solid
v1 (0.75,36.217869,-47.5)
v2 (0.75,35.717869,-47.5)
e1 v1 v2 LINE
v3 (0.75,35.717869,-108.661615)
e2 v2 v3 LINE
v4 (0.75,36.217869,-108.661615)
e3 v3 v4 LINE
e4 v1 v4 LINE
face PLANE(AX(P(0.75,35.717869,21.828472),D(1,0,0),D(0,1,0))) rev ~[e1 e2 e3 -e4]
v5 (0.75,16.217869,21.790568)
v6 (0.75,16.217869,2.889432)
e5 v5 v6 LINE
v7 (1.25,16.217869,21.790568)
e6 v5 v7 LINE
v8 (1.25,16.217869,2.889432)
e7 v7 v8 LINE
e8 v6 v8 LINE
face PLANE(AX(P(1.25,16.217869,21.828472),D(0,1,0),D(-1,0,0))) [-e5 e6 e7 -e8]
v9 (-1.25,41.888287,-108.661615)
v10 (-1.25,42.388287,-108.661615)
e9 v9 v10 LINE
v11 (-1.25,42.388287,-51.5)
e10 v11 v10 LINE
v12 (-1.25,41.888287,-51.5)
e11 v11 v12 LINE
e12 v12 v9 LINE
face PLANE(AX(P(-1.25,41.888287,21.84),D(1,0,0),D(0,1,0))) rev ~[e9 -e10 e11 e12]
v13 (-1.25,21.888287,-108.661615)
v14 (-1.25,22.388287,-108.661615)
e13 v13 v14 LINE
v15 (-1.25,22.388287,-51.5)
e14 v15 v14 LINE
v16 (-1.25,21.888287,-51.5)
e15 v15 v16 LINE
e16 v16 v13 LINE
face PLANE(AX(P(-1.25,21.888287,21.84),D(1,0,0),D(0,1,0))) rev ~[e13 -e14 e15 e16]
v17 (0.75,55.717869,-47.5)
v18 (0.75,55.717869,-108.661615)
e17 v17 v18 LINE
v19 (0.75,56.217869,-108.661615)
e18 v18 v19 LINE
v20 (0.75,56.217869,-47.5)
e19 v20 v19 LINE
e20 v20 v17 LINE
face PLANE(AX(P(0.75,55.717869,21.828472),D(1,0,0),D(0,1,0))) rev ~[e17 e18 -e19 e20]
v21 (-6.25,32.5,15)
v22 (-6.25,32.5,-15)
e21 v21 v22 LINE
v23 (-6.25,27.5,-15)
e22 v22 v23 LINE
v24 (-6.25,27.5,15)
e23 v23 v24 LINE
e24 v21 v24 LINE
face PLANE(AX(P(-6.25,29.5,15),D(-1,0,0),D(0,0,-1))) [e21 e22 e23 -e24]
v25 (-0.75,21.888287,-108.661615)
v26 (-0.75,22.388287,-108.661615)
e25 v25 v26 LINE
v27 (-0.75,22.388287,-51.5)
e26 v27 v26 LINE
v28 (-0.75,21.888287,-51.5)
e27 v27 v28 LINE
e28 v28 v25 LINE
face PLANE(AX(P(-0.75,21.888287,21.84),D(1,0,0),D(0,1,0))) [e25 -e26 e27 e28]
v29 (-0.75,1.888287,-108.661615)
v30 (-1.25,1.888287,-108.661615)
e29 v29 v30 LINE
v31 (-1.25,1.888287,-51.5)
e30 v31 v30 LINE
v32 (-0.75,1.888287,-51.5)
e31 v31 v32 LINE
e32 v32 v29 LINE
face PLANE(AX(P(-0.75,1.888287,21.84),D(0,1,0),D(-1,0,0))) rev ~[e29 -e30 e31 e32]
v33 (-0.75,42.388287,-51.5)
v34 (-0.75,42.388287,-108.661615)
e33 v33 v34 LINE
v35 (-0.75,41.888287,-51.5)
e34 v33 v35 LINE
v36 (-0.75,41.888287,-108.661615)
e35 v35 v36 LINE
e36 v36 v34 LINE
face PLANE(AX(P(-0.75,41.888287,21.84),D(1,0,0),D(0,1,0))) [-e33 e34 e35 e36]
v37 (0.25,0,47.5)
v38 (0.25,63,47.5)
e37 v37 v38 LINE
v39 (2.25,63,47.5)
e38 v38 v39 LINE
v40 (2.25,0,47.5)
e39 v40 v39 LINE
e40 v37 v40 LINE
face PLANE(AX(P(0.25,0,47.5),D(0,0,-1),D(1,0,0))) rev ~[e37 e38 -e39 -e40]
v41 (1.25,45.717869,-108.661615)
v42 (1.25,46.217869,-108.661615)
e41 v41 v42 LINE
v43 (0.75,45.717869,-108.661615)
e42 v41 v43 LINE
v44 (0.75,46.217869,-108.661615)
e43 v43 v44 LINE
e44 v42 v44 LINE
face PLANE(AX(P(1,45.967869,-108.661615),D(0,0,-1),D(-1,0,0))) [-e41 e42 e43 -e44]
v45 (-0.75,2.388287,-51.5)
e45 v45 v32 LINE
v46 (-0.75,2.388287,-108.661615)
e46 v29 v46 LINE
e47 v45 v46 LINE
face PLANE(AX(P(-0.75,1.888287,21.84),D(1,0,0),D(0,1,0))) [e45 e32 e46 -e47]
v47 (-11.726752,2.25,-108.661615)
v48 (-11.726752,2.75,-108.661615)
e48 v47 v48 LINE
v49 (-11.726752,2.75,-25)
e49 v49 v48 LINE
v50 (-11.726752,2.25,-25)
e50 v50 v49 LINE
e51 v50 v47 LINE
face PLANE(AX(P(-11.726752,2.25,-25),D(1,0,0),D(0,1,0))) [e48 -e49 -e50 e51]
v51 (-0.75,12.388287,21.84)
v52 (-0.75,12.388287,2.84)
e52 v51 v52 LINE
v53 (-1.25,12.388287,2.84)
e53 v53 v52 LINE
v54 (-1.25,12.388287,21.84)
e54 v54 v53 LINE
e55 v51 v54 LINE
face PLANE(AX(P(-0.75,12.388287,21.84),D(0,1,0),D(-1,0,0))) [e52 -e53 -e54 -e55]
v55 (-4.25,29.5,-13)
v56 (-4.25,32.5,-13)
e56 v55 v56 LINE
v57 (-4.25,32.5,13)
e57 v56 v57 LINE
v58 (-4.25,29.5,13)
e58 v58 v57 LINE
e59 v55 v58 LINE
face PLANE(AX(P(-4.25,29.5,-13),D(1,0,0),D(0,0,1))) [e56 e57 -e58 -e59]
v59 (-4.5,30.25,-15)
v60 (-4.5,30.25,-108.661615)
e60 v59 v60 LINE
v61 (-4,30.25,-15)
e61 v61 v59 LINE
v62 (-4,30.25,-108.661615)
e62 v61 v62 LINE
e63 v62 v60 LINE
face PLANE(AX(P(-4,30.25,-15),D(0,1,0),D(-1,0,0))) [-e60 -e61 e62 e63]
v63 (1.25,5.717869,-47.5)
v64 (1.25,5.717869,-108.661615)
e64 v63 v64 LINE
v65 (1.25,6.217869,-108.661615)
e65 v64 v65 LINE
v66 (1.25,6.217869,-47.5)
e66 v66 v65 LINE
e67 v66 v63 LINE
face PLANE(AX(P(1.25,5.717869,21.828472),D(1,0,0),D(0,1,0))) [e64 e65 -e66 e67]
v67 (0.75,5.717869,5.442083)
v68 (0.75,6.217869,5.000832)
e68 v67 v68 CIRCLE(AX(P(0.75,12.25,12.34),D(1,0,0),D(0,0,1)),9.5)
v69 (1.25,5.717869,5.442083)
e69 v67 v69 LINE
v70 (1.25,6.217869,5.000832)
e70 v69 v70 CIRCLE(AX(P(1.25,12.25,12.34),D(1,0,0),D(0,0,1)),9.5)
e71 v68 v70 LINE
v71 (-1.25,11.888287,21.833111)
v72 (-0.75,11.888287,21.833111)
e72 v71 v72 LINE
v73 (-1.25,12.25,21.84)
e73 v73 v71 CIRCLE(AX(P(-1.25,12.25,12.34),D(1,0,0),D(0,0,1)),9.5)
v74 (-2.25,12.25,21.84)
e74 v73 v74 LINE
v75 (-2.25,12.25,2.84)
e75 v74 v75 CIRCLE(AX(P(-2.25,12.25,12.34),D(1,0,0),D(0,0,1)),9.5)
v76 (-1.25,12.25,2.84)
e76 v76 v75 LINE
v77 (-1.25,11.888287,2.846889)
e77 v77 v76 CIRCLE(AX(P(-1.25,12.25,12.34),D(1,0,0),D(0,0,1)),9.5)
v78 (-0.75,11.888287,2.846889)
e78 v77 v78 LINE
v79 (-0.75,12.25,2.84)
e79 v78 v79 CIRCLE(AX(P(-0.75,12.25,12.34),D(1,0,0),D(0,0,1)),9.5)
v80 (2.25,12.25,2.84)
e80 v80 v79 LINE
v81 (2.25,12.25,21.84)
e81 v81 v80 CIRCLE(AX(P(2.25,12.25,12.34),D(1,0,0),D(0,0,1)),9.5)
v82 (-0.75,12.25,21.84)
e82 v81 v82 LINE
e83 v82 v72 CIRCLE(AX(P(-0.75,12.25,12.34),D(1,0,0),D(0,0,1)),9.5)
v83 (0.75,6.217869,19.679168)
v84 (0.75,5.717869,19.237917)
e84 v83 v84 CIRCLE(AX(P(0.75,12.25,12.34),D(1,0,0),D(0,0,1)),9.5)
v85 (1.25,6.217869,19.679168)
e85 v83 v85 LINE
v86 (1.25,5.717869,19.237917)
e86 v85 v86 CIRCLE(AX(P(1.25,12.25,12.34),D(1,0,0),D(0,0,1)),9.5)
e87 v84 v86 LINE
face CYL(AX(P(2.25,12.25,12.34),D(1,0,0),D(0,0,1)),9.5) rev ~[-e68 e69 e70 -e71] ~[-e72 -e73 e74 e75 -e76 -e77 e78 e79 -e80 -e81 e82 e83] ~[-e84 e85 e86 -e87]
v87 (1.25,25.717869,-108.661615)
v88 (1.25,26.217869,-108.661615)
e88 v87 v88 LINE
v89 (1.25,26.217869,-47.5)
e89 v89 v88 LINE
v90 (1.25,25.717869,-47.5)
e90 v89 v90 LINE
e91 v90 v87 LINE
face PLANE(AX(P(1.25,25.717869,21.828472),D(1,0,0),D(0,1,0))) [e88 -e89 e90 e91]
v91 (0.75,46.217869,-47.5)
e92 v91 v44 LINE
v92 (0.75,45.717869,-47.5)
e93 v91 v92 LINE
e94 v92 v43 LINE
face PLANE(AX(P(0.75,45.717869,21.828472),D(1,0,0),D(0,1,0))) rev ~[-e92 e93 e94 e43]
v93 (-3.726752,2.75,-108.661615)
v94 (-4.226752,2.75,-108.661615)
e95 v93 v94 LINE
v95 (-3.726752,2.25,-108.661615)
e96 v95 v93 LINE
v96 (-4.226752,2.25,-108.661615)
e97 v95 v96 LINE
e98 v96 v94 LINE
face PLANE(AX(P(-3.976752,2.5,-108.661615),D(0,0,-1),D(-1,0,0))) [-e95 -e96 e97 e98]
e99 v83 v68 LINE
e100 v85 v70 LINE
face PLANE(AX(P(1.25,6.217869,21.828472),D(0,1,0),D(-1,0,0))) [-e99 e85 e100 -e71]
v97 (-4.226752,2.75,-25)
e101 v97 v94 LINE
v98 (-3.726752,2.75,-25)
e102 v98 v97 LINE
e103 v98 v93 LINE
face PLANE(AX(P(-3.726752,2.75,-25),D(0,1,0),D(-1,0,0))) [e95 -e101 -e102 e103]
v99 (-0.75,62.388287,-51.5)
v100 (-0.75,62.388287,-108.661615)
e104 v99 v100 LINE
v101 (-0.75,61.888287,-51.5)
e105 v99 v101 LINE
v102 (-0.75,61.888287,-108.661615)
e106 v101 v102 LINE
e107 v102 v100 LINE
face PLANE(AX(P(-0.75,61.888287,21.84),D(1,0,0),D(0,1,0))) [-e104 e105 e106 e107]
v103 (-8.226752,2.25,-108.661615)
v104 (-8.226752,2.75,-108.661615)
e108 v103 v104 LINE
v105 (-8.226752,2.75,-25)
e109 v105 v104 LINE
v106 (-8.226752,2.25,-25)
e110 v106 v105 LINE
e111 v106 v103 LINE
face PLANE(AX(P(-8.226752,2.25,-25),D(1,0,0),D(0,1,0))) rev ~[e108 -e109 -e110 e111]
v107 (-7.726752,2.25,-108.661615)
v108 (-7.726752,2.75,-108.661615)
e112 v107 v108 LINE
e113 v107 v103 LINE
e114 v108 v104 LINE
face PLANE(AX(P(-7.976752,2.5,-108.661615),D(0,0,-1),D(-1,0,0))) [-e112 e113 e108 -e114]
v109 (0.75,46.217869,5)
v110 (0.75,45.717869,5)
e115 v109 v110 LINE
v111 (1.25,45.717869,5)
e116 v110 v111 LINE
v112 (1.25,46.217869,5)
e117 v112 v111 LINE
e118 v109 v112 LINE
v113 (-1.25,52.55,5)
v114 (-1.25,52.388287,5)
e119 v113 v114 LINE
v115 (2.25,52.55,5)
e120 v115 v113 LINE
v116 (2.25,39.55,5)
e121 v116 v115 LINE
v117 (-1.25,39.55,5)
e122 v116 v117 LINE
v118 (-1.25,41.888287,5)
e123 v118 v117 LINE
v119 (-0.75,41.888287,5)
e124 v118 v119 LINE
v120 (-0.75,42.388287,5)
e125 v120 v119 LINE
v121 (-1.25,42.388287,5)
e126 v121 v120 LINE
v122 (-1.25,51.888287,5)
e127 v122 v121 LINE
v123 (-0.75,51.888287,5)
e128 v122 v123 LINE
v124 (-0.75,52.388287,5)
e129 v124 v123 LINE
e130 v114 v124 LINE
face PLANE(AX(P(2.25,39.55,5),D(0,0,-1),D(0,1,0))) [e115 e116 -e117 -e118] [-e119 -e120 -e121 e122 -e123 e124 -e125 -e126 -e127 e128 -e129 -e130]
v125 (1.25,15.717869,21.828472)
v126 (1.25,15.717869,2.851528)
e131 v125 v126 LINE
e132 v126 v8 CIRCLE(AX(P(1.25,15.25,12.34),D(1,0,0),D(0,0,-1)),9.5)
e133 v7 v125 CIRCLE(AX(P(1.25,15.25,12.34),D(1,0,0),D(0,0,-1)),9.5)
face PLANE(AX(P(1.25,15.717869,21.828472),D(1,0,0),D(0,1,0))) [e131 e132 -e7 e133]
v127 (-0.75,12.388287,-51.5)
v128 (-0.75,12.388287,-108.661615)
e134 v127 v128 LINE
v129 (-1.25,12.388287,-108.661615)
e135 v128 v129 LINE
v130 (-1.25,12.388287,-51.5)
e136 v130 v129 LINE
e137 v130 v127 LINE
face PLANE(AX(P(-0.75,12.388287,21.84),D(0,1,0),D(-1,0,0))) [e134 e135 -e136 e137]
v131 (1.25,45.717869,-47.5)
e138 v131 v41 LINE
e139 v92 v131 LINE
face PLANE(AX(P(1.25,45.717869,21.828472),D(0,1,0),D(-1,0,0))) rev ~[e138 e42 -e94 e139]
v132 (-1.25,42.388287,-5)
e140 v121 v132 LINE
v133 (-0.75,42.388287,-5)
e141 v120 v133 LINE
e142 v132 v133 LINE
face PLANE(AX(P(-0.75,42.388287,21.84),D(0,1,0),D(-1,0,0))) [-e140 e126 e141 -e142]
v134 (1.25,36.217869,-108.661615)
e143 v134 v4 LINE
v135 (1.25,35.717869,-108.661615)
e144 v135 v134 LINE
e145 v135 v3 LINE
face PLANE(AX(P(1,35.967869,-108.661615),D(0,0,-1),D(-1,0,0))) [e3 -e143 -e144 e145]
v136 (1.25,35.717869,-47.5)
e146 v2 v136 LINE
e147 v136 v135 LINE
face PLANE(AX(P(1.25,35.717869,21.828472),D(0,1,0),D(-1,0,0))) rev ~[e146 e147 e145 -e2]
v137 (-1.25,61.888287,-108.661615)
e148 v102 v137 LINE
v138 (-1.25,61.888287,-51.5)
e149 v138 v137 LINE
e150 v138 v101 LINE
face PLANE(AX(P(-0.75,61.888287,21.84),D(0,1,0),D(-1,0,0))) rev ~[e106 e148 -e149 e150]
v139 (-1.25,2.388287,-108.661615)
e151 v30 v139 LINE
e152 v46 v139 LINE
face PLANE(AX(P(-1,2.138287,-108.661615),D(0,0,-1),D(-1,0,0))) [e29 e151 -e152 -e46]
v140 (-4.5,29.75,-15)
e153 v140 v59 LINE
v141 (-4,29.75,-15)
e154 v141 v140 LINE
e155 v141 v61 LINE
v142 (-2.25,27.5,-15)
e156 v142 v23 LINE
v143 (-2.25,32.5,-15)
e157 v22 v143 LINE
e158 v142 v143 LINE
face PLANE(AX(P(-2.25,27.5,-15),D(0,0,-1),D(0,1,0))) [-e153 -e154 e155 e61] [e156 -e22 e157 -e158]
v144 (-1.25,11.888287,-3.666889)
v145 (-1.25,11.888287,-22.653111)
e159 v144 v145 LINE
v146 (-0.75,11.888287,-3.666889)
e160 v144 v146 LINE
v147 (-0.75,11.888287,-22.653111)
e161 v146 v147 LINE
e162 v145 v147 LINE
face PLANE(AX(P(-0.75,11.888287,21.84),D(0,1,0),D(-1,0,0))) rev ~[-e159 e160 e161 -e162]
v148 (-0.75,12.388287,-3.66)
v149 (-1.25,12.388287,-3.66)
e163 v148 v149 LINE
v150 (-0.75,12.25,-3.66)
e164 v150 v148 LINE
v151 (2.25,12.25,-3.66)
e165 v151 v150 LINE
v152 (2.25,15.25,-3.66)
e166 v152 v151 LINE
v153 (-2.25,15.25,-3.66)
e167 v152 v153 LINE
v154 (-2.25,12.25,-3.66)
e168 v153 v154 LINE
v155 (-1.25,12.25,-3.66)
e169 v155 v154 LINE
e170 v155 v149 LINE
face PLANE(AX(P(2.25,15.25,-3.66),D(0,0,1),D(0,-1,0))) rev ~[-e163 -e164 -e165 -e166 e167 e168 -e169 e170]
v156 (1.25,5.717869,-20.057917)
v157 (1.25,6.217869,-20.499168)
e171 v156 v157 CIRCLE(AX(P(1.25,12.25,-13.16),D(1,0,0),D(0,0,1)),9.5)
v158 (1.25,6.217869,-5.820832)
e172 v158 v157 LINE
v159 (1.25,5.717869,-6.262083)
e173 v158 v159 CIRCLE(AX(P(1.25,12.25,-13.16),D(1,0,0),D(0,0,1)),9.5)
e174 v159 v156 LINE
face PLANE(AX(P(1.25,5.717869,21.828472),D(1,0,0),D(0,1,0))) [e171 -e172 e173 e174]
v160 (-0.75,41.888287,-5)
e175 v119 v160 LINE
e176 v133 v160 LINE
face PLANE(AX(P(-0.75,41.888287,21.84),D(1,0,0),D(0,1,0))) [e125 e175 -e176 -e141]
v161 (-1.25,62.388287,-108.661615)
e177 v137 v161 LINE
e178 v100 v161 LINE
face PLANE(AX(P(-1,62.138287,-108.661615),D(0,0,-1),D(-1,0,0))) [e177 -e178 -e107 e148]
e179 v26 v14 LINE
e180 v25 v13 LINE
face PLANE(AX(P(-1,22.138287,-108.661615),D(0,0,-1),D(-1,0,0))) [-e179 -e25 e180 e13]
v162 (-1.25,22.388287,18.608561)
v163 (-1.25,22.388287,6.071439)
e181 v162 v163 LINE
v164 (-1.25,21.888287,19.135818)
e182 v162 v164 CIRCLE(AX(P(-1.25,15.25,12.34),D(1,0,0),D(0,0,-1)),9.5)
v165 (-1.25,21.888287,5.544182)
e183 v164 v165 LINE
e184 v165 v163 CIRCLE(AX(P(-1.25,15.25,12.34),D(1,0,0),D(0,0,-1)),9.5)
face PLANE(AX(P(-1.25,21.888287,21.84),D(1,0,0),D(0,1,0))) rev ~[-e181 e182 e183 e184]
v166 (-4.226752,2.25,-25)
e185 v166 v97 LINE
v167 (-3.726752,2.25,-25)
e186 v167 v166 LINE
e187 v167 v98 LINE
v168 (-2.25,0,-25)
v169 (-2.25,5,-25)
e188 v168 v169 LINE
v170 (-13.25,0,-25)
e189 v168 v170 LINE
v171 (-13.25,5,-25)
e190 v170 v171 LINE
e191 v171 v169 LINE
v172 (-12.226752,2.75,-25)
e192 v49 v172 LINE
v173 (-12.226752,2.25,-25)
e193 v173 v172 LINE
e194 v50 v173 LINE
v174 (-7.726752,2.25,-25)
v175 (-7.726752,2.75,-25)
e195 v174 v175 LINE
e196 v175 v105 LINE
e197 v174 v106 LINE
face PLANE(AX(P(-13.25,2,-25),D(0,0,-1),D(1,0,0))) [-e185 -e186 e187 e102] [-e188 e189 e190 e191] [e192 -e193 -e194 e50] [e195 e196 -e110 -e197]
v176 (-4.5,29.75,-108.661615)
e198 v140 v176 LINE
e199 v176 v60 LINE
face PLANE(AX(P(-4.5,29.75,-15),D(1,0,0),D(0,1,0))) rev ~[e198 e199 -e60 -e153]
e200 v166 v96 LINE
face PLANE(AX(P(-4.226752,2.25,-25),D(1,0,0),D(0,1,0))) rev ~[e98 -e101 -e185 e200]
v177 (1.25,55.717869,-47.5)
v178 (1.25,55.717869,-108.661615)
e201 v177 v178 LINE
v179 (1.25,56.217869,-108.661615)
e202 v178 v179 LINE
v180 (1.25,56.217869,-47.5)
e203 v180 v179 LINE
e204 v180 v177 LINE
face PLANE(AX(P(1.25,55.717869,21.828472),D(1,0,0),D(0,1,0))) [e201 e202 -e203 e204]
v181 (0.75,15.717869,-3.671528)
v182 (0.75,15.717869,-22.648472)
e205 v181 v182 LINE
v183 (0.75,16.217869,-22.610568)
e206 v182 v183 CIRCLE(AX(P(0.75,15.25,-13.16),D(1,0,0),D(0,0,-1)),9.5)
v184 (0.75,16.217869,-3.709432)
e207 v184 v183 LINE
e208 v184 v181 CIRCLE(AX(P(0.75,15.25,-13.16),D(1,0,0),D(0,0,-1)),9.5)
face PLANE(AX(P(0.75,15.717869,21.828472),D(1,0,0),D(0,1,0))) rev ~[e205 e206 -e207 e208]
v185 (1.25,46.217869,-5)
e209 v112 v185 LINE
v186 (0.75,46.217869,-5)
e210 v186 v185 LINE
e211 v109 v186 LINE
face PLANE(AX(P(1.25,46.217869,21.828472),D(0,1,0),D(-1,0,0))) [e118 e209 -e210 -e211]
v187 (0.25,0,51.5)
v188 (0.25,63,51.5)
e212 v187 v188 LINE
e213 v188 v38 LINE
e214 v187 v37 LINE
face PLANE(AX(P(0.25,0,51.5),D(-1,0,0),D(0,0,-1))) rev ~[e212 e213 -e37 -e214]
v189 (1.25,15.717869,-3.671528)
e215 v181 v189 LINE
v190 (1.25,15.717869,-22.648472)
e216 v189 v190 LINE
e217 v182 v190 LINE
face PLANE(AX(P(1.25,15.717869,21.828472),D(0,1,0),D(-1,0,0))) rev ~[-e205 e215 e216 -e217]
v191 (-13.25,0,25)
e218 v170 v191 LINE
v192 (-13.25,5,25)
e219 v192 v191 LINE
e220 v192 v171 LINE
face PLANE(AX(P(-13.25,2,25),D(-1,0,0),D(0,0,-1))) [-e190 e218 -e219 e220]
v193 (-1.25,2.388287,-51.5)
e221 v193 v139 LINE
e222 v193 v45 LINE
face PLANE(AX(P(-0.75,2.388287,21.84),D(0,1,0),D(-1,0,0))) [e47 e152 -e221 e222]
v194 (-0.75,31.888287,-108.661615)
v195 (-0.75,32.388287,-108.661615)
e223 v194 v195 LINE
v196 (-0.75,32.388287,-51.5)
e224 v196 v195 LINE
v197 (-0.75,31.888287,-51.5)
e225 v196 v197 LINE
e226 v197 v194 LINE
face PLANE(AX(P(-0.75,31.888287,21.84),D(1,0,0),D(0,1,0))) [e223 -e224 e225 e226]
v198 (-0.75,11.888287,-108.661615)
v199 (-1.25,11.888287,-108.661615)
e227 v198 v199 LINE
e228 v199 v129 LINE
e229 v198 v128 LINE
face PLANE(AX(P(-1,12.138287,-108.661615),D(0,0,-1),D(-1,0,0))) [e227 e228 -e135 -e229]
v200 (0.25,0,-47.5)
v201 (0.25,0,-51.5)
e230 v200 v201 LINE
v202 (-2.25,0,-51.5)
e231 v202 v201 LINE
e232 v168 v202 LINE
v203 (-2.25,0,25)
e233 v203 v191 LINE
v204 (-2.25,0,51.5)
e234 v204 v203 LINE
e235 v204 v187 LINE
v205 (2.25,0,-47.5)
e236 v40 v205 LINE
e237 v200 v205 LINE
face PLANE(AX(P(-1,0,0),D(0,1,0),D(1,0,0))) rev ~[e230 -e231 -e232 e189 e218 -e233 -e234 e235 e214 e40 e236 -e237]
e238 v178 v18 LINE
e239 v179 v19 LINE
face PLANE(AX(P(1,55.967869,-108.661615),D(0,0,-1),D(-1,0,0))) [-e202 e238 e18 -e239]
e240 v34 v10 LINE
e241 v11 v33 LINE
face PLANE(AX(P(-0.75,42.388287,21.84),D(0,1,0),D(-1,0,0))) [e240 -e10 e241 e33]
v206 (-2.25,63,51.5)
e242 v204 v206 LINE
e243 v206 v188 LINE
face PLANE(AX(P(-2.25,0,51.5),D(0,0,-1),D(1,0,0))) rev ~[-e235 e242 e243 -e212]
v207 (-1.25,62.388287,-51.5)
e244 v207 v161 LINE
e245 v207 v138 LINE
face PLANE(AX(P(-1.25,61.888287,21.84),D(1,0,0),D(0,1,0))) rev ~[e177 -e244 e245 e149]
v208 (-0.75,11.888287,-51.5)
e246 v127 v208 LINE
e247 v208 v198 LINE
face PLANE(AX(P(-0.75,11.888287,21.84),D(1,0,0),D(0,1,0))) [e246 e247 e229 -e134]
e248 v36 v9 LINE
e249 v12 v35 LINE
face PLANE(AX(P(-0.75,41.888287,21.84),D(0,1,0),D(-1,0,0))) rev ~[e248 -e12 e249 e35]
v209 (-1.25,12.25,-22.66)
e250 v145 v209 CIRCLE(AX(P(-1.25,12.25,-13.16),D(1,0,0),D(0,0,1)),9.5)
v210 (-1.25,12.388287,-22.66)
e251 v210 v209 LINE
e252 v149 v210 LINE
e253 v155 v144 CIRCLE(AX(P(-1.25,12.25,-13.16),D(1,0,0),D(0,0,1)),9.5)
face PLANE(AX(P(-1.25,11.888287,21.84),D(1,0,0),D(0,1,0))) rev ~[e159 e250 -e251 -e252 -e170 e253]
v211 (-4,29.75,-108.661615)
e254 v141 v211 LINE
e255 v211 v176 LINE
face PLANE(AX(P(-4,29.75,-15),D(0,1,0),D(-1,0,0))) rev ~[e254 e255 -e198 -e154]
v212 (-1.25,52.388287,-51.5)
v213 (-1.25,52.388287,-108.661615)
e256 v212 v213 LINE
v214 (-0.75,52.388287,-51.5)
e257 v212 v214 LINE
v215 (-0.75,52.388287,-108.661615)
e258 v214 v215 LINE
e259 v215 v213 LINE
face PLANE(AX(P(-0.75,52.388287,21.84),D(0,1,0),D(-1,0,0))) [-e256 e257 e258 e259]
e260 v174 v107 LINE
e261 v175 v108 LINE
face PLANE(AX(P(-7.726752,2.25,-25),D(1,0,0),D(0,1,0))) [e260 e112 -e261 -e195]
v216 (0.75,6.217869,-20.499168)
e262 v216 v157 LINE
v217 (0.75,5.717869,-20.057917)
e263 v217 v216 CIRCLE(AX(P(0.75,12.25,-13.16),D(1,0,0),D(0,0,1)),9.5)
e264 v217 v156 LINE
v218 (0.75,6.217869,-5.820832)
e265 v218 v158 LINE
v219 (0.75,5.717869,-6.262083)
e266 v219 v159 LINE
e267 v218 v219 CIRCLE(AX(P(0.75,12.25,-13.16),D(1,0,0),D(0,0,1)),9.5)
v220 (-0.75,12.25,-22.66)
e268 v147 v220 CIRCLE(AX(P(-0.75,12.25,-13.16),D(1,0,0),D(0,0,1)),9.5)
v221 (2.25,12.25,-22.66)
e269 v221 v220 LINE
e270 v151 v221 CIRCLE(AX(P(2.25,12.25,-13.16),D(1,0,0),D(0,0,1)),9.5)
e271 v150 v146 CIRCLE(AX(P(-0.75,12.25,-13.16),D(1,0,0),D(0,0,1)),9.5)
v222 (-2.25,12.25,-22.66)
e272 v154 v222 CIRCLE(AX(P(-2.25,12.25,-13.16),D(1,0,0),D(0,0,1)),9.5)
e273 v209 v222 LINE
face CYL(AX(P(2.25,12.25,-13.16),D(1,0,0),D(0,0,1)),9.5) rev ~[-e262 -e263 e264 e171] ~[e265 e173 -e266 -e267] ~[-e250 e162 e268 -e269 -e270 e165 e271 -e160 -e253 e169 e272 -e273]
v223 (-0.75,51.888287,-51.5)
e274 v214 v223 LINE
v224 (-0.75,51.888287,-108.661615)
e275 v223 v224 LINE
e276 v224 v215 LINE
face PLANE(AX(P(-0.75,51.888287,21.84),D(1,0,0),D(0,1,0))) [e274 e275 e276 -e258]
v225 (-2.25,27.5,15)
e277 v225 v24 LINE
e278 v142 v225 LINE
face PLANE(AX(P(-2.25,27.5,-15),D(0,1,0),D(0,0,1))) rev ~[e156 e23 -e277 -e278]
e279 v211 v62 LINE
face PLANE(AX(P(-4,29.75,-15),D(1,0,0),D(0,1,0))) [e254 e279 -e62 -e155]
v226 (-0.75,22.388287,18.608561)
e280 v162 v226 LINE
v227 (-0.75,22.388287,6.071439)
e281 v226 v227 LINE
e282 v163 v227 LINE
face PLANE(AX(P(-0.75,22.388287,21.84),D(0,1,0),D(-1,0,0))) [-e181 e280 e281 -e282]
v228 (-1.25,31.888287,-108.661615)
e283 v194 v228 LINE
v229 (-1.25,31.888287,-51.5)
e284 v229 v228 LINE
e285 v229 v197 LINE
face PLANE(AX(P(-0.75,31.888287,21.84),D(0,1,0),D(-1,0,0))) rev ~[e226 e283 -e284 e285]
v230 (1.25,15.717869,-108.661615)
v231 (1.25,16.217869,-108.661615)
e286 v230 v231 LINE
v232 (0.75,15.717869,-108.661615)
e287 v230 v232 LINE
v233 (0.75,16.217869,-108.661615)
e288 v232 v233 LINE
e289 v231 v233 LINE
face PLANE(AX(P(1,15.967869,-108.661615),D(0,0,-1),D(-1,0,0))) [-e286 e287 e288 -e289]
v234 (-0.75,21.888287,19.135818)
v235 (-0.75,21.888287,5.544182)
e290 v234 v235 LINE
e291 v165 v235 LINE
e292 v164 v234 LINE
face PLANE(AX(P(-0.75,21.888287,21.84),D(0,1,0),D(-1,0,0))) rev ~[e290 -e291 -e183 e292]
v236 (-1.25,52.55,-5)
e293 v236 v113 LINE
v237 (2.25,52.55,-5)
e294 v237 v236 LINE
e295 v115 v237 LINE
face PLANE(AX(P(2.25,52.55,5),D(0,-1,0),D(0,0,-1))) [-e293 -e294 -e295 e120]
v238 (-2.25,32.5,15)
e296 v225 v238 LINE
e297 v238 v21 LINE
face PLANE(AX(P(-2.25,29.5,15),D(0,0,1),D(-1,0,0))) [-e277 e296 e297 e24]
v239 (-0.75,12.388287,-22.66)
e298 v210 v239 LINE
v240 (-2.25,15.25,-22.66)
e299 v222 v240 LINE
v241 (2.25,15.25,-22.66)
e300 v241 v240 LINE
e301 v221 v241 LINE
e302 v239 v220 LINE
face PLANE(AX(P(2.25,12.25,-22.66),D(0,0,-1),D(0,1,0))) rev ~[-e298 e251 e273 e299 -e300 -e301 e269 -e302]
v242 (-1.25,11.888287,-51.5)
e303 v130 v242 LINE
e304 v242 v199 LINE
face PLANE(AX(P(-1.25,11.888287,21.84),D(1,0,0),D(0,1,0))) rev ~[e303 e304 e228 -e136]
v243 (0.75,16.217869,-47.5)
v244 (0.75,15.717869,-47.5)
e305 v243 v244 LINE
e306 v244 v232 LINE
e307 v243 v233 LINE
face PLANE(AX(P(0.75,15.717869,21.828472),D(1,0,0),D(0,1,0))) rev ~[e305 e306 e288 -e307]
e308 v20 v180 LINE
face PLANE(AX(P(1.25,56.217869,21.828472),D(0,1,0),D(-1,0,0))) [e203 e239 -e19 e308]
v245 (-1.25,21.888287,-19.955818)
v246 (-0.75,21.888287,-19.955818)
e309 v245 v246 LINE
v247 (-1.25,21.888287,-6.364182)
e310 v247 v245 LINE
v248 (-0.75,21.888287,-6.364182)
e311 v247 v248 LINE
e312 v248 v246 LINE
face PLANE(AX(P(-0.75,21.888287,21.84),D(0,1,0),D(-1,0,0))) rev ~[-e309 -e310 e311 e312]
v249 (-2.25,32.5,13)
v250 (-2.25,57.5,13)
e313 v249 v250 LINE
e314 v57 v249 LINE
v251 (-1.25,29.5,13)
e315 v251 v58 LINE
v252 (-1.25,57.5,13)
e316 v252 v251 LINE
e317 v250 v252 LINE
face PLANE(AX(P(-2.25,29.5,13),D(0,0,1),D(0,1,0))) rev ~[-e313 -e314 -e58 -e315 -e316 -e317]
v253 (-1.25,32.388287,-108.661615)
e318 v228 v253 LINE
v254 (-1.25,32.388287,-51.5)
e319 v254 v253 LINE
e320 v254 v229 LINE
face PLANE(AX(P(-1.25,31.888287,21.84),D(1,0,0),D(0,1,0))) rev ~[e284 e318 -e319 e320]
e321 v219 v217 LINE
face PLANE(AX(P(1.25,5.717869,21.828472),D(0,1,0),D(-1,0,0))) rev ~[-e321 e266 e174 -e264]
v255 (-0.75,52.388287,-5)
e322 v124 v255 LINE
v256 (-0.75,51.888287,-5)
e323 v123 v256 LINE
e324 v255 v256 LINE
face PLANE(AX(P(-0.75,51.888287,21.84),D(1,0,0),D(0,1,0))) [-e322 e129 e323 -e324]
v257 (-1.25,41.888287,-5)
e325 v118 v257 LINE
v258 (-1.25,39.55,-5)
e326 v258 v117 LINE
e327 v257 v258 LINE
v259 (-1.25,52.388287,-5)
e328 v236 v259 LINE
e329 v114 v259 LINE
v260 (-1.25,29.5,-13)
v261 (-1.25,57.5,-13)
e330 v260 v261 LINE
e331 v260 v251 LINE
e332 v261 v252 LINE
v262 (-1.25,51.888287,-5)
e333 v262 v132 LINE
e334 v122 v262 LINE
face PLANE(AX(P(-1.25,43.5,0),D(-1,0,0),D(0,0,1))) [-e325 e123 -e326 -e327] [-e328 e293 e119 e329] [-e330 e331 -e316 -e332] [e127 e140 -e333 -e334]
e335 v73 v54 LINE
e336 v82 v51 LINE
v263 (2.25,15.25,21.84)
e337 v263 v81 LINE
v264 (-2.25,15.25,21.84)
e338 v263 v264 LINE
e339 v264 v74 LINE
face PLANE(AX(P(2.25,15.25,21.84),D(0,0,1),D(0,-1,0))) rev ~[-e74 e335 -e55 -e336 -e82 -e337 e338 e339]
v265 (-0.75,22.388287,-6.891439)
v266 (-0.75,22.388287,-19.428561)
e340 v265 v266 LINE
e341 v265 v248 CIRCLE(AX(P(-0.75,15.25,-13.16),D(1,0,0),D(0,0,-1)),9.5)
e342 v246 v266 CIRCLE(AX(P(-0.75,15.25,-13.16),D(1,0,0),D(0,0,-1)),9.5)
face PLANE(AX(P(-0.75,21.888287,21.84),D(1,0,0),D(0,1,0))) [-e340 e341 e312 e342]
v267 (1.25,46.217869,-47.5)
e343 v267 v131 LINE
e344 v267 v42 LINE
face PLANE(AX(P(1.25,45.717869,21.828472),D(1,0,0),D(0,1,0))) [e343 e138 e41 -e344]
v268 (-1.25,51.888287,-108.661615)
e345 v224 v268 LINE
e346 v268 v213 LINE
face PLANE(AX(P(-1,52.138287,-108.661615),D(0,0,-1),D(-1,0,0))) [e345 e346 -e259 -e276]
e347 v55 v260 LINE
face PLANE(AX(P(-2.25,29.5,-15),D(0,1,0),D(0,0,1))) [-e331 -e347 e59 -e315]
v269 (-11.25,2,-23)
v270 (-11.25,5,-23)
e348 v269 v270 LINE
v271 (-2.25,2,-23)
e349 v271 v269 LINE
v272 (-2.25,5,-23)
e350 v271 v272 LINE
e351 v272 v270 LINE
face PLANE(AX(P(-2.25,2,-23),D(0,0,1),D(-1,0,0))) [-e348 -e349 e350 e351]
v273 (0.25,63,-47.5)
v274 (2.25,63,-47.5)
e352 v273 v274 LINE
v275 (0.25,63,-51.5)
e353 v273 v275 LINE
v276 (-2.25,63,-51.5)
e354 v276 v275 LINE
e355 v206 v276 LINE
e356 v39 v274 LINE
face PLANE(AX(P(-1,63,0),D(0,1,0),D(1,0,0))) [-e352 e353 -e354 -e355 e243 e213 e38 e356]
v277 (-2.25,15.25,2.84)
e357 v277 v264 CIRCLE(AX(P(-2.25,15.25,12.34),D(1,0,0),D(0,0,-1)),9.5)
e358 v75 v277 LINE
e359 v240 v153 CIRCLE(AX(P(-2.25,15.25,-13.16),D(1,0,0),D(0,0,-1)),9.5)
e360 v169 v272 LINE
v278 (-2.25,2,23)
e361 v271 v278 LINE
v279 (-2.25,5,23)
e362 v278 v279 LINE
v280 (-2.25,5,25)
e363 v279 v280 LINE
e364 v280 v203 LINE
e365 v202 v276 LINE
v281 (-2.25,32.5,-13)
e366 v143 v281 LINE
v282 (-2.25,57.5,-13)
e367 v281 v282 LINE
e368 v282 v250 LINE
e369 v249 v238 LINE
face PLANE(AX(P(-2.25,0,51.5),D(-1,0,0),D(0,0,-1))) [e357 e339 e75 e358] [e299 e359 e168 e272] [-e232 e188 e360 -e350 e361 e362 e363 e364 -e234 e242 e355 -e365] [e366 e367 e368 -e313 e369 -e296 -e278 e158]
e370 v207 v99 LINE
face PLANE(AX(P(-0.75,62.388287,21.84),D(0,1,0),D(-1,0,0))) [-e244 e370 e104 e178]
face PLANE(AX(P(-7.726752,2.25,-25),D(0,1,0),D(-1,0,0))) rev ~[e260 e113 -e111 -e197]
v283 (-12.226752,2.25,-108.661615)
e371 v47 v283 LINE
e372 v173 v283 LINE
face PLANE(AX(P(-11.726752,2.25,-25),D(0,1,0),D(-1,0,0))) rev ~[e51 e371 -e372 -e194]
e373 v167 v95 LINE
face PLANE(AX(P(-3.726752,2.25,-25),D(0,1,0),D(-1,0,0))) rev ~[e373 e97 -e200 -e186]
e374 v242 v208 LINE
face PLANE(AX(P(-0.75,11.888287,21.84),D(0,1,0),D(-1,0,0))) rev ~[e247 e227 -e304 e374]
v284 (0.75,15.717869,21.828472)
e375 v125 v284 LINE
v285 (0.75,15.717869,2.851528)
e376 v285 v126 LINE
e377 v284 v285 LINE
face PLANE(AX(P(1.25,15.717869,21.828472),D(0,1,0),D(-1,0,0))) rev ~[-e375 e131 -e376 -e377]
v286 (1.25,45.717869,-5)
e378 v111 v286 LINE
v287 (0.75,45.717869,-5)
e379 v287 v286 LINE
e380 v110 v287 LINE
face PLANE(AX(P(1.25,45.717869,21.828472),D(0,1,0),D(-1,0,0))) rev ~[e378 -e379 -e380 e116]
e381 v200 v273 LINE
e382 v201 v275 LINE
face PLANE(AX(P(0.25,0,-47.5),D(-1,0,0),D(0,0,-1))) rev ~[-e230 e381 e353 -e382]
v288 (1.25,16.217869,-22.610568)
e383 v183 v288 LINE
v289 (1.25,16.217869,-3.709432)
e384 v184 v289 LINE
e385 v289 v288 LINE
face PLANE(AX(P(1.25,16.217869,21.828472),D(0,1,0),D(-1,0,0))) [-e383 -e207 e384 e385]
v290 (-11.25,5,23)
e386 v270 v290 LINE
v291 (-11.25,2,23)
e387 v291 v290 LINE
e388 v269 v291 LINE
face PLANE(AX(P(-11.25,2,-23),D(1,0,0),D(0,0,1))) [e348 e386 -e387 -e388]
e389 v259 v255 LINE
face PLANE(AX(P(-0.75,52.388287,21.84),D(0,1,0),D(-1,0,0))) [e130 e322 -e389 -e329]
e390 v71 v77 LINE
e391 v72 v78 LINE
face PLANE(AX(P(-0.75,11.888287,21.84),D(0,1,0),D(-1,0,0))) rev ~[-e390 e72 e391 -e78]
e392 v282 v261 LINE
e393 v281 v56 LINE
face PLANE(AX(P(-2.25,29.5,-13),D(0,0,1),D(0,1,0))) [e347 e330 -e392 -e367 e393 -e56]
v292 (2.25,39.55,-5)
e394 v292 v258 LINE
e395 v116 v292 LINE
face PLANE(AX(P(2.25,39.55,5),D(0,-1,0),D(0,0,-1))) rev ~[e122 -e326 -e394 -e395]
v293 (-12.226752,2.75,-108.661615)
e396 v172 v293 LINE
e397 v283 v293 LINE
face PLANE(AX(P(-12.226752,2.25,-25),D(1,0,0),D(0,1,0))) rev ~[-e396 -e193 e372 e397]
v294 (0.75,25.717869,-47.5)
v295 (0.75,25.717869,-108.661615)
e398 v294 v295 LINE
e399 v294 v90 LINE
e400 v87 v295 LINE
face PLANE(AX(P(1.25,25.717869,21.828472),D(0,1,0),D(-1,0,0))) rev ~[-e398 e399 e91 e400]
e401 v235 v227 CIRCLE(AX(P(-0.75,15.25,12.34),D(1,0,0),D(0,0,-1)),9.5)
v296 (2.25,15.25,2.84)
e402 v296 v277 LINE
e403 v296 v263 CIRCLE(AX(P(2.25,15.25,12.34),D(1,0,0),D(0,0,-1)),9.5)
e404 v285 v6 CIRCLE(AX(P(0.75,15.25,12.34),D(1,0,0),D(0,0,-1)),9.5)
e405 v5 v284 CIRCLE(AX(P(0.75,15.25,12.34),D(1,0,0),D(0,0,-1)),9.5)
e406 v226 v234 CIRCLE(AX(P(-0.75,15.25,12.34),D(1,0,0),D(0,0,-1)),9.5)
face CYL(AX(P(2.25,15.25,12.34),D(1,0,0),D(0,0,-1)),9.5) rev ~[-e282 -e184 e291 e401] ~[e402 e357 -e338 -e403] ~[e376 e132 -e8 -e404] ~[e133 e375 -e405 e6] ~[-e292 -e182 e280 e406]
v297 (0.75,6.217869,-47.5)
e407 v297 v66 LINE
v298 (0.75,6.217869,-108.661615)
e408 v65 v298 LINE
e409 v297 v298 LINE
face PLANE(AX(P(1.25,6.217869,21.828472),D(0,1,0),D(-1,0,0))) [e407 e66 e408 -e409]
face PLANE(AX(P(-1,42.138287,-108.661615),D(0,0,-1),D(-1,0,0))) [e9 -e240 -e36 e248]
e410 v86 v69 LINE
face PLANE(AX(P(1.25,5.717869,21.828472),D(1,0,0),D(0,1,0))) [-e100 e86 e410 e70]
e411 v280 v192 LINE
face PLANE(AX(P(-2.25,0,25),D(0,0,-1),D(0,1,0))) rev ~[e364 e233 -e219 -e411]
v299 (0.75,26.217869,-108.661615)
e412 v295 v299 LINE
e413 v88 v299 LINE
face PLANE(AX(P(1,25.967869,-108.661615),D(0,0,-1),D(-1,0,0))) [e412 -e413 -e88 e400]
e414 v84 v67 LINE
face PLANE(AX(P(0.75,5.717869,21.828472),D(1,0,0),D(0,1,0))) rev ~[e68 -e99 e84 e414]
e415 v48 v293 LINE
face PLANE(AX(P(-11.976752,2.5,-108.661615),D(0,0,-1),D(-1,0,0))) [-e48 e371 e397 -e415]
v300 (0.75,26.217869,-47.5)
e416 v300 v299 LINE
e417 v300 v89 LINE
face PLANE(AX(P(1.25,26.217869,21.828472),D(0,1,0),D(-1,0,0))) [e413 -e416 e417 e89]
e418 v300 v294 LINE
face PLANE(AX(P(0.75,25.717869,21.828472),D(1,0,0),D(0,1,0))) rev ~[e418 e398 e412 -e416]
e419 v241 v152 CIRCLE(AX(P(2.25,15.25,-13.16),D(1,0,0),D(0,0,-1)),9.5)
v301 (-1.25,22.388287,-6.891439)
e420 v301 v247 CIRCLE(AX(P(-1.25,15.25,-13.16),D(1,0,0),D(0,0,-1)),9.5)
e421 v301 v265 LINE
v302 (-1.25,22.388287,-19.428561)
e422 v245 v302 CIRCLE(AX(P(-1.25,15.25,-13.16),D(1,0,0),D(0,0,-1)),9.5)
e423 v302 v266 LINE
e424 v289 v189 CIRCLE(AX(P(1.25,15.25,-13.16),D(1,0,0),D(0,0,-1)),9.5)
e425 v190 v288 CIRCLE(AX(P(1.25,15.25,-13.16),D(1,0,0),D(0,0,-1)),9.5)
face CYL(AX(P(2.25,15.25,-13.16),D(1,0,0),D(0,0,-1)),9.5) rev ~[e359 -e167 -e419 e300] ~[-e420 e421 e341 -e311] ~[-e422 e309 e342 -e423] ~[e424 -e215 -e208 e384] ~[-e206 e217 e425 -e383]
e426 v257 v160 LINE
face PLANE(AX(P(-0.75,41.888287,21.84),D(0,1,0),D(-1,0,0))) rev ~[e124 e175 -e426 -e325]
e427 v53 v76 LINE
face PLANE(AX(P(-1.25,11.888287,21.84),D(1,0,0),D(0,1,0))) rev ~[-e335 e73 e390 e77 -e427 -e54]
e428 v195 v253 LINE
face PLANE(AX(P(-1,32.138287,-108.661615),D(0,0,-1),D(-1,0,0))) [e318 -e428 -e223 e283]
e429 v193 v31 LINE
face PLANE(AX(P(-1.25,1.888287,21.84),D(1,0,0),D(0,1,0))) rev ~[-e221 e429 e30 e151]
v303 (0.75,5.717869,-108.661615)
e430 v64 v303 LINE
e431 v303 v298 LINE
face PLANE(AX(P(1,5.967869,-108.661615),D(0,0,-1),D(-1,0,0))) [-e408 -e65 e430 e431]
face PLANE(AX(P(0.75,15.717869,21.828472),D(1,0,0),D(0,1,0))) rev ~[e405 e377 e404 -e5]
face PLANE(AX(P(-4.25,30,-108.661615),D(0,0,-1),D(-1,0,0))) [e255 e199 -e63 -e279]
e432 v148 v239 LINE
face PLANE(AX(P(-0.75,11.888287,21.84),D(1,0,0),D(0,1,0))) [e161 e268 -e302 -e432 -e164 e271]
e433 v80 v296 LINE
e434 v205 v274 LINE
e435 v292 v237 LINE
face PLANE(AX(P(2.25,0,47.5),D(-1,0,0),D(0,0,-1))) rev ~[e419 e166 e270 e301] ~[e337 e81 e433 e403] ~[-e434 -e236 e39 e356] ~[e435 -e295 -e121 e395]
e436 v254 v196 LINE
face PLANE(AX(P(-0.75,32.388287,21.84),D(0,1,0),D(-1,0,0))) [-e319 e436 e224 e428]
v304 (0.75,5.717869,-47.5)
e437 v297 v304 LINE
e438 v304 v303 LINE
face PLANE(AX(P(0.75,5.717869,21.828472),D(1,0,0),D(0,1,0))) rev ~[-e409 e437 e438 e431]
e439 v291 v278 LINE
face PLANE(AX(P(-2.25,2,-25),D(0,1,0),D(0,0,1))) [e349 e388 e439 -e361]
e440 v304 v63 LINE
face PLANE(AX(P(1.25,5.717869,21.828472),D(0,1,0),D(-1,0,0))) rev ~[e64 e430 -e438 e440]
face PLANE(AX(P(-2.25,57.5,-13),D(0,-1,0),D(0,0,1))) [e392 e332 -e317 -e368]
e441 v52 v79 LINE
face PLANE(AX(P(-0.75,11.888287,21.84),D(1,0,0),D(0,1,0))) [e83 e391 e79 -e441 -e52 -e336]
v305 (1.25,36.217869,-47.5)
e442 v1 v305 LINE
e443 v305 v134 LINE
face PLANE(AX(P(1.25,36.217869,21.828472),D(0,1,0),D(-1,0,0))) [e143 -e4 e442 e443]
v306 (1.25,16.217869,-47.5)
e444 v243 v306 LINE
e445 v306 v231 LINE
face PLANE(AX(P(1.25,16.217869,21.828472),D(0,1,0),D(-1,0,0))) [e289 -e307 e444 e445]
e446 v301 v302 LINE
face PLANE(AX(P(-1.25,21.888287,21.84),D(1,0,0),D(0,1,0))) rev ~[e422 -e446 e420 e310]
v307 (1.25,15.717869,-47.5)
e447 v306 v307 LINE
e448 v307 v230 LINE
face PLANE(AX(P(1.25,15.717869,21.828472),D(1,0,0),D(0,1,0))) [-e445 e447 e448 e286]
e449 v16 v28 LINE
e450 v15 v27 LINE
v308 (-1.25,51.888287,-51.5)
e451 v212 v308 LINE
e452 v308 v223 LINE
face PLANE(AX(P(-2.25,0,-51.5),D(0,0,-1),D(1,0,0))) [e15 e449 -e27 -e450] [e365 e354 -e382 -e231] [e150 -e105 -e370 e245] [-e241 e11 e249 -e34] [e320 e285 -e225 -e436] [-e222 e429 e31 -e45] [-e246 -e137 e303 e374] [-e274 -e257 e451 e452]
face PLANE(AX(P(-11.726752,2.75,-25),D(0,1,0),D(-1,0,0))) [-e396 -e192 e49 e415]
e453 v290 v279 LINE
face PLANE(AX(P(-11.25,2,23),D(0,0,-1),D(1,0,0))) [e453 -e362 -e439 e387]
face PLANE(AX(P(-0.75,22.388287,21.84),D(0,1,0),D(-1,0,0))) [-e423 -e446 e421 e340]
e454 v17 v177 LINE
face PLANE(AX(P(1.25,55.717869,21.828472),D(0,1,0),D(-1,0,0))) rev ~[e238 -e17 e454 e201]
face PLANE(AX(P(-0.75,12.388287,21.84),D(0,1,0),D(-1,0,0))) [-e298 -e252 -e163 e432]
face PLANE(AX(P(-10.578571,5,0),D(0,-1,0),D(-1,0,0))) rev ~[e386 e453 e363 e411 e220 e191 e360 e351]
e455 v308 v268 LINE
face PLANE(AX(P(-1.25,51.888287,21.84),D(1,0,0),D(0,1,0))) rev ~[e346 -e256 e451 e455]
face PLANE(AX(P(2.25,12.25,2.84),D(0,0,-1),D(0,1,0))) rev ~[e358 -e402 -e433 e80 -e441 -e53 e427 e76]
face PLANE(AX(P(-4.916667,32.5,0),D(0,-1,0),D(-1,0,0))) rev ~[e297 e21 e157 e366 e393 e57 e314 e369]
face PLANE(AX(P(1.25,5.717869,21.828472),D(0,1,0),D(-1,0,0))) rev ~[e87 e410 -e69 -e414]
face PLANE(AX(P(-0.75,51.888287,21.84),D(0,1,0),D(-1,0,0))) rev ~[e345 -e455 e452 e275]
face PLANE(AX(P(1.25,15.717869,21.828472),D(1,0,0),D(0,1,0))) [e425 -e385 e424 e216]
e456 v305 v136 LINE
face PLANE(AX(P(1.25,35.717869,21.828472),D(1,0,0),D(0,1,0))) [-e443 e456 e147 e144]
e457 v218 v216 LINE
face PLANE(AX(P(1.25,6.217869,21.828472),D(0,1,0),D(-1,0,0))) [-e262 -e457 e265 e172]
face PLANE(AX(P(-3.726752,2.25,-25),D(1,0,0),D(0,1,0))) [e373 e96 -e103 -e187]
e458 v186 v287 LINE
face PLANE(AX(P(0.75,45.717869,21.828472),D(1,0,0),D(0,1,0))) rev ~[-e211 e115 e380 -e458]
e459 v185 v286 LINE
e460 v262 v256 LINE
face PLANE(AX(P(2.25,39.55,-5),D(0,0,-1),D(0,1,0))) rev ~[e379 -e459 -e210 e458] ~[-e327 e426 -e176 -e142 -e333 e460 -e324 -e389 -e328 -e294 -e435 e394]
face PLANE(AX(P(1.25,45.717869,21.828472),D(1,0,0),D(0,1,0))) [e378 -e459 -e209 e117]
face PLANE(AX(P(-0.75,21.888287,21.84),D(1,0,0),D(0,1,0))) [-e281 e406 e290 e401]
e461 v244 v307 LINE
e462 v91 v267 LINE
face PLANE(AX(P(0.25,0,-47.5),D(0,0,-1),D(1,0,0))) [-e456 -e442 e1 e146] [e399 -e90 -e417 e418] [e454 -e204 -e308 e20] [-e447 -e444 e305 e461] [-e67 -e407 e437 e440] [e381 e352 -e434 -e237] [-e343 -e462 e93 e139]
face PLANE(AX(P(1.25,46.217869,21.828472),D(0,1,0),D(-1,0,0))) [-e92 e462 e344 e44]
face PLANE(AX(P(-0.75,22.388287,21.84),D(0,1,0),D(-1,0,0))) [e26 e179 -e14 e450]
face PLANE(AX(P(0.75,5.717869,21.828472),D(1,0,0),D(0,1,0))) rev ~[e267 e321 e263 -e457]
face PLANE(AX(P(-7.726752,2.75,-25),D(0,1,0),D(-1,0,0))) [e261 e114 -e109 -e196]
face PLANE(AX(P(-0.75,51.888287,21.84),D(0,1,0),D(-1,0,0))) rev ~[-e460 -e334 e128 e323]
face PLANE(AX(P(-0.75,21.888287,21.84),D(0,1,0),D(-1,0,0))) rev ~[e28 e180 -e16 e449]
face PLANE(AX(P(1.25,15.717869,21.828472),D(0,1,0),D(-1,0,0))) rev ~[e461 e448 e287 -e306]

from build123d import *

# Parameters (mm, degrees)
SKETCH_1_W          = 2.5
SKETCH_1_H          = 103
SKETCH_1_W_2        = 2
SKETCH_1_H_2        = 95
EXTRUDE_1_DEPTH     = 63
SKETCH_5_W          = 50
SKETCH_5_H          = 2
EXTRUDE_2_DEPTH     = 11
EXTRUDE_3_DEPTH     = 3
CUT_EXTRUDE_1_DEPTH = 4.5
SKETCH_11_W         = 8.5
SKETCH_11_H         = 11.5
CUT_EXTRUDE_2_DEPTH = 4.5
SKETCH_12_W         = 26
SKETCH_12_H         = 28
SKETCH_12_W_2       = 25
SKETCH_12_H_2       = 27
SKETCH_12_W_3       = 8.5
SKETCH_12_H_3       = 11.5
CUT_EXTRUDE_3_DEPTH = 1
SKETCH_13_W         = 30
SKETCH_13_H         = 2
EXTRUDE_4_DEPTH     = 4
EXTRUDE_5_DEPTH     = 3
SKETCH_15_W         = 10
SKETCH_15_H         = 13
CUT_EXTRUDE_5_DEPTH = 10
EXTRUDE_START       = -73.34
SKETCH_16_W         = 0.5
SKETCH_16_H         = 0.5
EXTRUDE_6_DEPTH     = 130.501615
EXTRUDE_START_2     = -69.328472
SKETCH_17_W         = 0.5
SKETCH_17_H         = 0.5
EXTRUDE_7_DEPTH     = 130.490087
SKETCH_18_W         = 0.5
SKETCH_18_H         = 0.5
EXTRUDE_8_DEPTH     = 83.66161453
SKETCH_19_W         = 0.5
SKETCH_19_H         = 0.5
EXTRUDE_9_DEPTH     = 93.66161453


with BuildPart() as part:
    # 스케치1 → 보스-돌출1 (new body)
    with BuildSketch(Plane(origin=(0, 0, 0), x_dir=(1, 0, 0), z_dir=(0, 1, 0))):
        with Locations((-1, 0)):
            Rectangle(SKETCH_1_W, SKETCH_1_H)
        with Locations((1.25, 0)):
            Rectangle(SKETCH_1_W_2, SKETCH_1_H_2)
    extrude(amount=EXTRUDE_1_DEPTH)

    # 스케치5 → 보스-돌출2 (add)
    with BuildSketch(Plane.ZY.offset(2.25)):
        with Locations((0, 1)):
            Rectangle(SKETCH_5_W, SKETCH_5_H)
    extrude(amount=EXTRUDE_2_DEPTH)

    # 스케치7 → 보스-돌출3 (add)
    with BuildSketch(Plane(origin=(0, 2, 0), x_dir=(1, 0, 0), z_dir=(0, 1, 0))):
        Polygon((-2.25, 23), (-11.25, 23), (-11.25, -23), (-2.25, -23), (-2.25, -25), (-13.25, -25), (-13.25, 25), (-2.25, 25), align=None)
    extrude(amount=EXTRUDE_3_DEPTH)

    # 스케치10 → 컷-돌출1 (cut)
    with BuildSketch(Plane(origin=(2.25, 0, 0), x_dir=(0, 0, -1), z_dir=(1, 0, 0))):
        with BuildLine():
            Line((-21.84, 15.25), (-21.84, 12.25))
            ThreePointArc((-21.84, 12.25), (-12.34, 2.75), (-2.84, 12.25))
            Line((-2.84, 12.25), (-2.84, 15.25))
            ThreePointArc((-2.84, 15.25), (-12.34, 24.75), (-21.84, 15.25))
        make_face()
        with BuildLine():
            Line((3.66, 15.25), (3.66, 12.25))
            ThreePointArc((3.66, 12.25), (13.16, 2.75), (22.66, 12.25))
            Line((22.66, 12.25), (22.66, 15.25))
            ThreePointArc((22.66, 15.25), (13.16, 24.75), (3.66, 15.25))
        make_face()
    extrude(amount=-CUT_EXTRUDE_1_DEPTH, mode=Mode.SUBTRACT)

    # 스케치11 → 컷-돌출2 (cut)
    with BuildSketch(Plane.ZY.offset(2.25)):
        with Locations((0, 46.05)):
            Rectangle(SKETCH_11_W, SKETCH_11_H)
    extrude(amount=-CUT_EXTRUDE_2_DEPTH, mode=Mode.SUBTRACT)

    # 스케치12 → 컷-돌출3 (cut)
    # profile 1 of 2: a face of its own
    with BuildSketch(Plane.ZY.offset(2.25)):
        with Locations((0, 43.5)):
            Rectangle(SKETCH_12_W, SKETCH_12_H)
        with Locations((0, 43.5)):
            Rectangle(SKETCH_12_W_2, SKETCH_12_H_2, mode=Mode.SUBTRACT)
    # profile 2 of 2: a face of its own
    with BuildSketch(Plane.ZY.offset(2.25)):
        with Locations((0, 43.5)):
            Rectangle(SKETCH_12_W_2, SKETCH_12_H_2)
        with Locations((0, 46.05)):
            Rectangle(SKETCH_12_W_3, SKETCH_12_H_3, mode=Mode.SUBTRACT)
    extrude(amount=-CUT_EXTRUDE_3_DEPTH, mode=Mode.SUBTRACT)

    # 스케치13 → 보스-돌출4 (add)
    with BuildSketch(Plane.ZY.offset(2.25)):
        with Locations((0, 28.5)):
            Rectangle(SKETCH_13_W, SKETCH_13_H)
    extrude(amount=EXTRUDE_4_DEPTH)

    # 스케치14 → 보스-돌출5 (add)
    with BuildSketch(Plane(origin=(0, 29.5, 0), x_dir=(1, 0, 0), z_dir=(0, 1, 0))):
        Polygon((-2.25, -13), (-2.25, -15), (-6.25, -15), (-6.25, 15), (-2.25, 15), (-2.25, 13), (-4.25, 13), (-4.25, -13), align=None)
    extrude(amount=EXTRUDE_5_DEPTH)

    # 스케치15 → 컷-돌출5 (cut)
    with BuildSketch(Plane(origin=(2.25, 0, 0), x_dir=(0, 0, -1), z_dir=(1, 0, 0))):
        with Locations((0, 46.05)):
            Rectangle(SKETCH_15_W, SKETCH_15_H)
    extrude(amount=-CUT_EXTRUDE_5_DEPTH, mode=Mode.SUBTRACT)

    # 스케치16 → 보스-돌출6 (add)
    with BuildSketch(Plane(origin=(0, 0, -51.5), x_dir=(-1, 0, 0), z_dir=(0, 0, -1)).offset(EXTRUDE_START)):
        with Locations((1, 2.138286898)):
            Rectangle(SKETCH_16_W, SKETCH_16_H)
        with Locations((1, 12.138286898)):
            Rectangle(SKETCH_16_W, SKETCH_16_H)
        with Locations((1, 22.138286898)):
            Rectangle(SKETCH_16_W, SKETCH_16_H)
        with Locations((1, 32.138286898)):
            Rectangle(SKETCH_16_W, SKETCH_16_H)
        with Locations((1, 42.138286898)):
            Rectangle(SKETCH_16_W, SKETCH_16_H)
        with Locations((1, 52.138286898)):
            Rectangle(SKETCH_16_W, SKETCH_16_H)
        with Locations((1, 62.138286898)):
            Rectangle(SKETCH_16_W, SKETCH_16_H)
    extrude(amount=EXTRUDE_6_DEPTH)

    # 스케치17 → 보스-돌출7 (add)
    with BuildSketch(Plane(origin=(0, 0, -47.5), x_dir=(-1, 0, 0), z_dir=(0, 0, -1)).offset(EXTRUDE_START_2)):
        with Locations((-1, 5.967868798)):
            Rectangle(SKETCH_17_W, SKETCH_17_H)
        with Locations((-1, 15.967868798)):
            Rectangle(SKETCH_17_W, SKETCH_17_H)
        with Locations((-1, 25.967868798)):
            Rectangle(SKETCH_17_W, SKETCH_17_H)
        with Locations((-1, 35.967868798)):
            Rectangle(SKETCH_17_W, SKETCH_17_H)
        with Locations((-1, 45.967868798)):
            Rectangle(SKETCH_17_W, SKETCH_17_H)
        with Locations((-1, 55.967868798)):
            Rectangle(SKETCH_17_W, SKETCH_17_H)
    extrude(amount=EXTRUDE_7_DEPTH)

    # 스케치18 → 보스-돌출8 (add)
    with BuildSketch(Plane(origin=(0, 0, -25), x_dir=(-1, 0, 0), z_dir=(0, 0, -1))):
        with Locations((3.97675174, 2.5)):
            Rectangle(SKETCH_18_W, SKETCH_18_H)
        with Locations((7.97675174, 2.5)):
            Rectangle(SKETCH_18_W, SKETCH_18_H)
        with Locations((11.97675174, 2.5)):
            Rectangle(SKETCH_18_W, SKETCH_18_H)
    extrude(amount=EXTRUDE_8_DEPTH)

    # 스케치19 → 보스-돌출9 (add)
    with BuildSketch(Plane(origin=(0, 0, -15), x_dir=(-1, 0, 0), z_dir=(0, 0, -1))):
        with Locations((4.25, 30)):
            Rectangle(SKETCH_19_W, SKETCH_19_H)
    extrude(amount=EXTRUDE_9_DEPTH)


solid = part.part
